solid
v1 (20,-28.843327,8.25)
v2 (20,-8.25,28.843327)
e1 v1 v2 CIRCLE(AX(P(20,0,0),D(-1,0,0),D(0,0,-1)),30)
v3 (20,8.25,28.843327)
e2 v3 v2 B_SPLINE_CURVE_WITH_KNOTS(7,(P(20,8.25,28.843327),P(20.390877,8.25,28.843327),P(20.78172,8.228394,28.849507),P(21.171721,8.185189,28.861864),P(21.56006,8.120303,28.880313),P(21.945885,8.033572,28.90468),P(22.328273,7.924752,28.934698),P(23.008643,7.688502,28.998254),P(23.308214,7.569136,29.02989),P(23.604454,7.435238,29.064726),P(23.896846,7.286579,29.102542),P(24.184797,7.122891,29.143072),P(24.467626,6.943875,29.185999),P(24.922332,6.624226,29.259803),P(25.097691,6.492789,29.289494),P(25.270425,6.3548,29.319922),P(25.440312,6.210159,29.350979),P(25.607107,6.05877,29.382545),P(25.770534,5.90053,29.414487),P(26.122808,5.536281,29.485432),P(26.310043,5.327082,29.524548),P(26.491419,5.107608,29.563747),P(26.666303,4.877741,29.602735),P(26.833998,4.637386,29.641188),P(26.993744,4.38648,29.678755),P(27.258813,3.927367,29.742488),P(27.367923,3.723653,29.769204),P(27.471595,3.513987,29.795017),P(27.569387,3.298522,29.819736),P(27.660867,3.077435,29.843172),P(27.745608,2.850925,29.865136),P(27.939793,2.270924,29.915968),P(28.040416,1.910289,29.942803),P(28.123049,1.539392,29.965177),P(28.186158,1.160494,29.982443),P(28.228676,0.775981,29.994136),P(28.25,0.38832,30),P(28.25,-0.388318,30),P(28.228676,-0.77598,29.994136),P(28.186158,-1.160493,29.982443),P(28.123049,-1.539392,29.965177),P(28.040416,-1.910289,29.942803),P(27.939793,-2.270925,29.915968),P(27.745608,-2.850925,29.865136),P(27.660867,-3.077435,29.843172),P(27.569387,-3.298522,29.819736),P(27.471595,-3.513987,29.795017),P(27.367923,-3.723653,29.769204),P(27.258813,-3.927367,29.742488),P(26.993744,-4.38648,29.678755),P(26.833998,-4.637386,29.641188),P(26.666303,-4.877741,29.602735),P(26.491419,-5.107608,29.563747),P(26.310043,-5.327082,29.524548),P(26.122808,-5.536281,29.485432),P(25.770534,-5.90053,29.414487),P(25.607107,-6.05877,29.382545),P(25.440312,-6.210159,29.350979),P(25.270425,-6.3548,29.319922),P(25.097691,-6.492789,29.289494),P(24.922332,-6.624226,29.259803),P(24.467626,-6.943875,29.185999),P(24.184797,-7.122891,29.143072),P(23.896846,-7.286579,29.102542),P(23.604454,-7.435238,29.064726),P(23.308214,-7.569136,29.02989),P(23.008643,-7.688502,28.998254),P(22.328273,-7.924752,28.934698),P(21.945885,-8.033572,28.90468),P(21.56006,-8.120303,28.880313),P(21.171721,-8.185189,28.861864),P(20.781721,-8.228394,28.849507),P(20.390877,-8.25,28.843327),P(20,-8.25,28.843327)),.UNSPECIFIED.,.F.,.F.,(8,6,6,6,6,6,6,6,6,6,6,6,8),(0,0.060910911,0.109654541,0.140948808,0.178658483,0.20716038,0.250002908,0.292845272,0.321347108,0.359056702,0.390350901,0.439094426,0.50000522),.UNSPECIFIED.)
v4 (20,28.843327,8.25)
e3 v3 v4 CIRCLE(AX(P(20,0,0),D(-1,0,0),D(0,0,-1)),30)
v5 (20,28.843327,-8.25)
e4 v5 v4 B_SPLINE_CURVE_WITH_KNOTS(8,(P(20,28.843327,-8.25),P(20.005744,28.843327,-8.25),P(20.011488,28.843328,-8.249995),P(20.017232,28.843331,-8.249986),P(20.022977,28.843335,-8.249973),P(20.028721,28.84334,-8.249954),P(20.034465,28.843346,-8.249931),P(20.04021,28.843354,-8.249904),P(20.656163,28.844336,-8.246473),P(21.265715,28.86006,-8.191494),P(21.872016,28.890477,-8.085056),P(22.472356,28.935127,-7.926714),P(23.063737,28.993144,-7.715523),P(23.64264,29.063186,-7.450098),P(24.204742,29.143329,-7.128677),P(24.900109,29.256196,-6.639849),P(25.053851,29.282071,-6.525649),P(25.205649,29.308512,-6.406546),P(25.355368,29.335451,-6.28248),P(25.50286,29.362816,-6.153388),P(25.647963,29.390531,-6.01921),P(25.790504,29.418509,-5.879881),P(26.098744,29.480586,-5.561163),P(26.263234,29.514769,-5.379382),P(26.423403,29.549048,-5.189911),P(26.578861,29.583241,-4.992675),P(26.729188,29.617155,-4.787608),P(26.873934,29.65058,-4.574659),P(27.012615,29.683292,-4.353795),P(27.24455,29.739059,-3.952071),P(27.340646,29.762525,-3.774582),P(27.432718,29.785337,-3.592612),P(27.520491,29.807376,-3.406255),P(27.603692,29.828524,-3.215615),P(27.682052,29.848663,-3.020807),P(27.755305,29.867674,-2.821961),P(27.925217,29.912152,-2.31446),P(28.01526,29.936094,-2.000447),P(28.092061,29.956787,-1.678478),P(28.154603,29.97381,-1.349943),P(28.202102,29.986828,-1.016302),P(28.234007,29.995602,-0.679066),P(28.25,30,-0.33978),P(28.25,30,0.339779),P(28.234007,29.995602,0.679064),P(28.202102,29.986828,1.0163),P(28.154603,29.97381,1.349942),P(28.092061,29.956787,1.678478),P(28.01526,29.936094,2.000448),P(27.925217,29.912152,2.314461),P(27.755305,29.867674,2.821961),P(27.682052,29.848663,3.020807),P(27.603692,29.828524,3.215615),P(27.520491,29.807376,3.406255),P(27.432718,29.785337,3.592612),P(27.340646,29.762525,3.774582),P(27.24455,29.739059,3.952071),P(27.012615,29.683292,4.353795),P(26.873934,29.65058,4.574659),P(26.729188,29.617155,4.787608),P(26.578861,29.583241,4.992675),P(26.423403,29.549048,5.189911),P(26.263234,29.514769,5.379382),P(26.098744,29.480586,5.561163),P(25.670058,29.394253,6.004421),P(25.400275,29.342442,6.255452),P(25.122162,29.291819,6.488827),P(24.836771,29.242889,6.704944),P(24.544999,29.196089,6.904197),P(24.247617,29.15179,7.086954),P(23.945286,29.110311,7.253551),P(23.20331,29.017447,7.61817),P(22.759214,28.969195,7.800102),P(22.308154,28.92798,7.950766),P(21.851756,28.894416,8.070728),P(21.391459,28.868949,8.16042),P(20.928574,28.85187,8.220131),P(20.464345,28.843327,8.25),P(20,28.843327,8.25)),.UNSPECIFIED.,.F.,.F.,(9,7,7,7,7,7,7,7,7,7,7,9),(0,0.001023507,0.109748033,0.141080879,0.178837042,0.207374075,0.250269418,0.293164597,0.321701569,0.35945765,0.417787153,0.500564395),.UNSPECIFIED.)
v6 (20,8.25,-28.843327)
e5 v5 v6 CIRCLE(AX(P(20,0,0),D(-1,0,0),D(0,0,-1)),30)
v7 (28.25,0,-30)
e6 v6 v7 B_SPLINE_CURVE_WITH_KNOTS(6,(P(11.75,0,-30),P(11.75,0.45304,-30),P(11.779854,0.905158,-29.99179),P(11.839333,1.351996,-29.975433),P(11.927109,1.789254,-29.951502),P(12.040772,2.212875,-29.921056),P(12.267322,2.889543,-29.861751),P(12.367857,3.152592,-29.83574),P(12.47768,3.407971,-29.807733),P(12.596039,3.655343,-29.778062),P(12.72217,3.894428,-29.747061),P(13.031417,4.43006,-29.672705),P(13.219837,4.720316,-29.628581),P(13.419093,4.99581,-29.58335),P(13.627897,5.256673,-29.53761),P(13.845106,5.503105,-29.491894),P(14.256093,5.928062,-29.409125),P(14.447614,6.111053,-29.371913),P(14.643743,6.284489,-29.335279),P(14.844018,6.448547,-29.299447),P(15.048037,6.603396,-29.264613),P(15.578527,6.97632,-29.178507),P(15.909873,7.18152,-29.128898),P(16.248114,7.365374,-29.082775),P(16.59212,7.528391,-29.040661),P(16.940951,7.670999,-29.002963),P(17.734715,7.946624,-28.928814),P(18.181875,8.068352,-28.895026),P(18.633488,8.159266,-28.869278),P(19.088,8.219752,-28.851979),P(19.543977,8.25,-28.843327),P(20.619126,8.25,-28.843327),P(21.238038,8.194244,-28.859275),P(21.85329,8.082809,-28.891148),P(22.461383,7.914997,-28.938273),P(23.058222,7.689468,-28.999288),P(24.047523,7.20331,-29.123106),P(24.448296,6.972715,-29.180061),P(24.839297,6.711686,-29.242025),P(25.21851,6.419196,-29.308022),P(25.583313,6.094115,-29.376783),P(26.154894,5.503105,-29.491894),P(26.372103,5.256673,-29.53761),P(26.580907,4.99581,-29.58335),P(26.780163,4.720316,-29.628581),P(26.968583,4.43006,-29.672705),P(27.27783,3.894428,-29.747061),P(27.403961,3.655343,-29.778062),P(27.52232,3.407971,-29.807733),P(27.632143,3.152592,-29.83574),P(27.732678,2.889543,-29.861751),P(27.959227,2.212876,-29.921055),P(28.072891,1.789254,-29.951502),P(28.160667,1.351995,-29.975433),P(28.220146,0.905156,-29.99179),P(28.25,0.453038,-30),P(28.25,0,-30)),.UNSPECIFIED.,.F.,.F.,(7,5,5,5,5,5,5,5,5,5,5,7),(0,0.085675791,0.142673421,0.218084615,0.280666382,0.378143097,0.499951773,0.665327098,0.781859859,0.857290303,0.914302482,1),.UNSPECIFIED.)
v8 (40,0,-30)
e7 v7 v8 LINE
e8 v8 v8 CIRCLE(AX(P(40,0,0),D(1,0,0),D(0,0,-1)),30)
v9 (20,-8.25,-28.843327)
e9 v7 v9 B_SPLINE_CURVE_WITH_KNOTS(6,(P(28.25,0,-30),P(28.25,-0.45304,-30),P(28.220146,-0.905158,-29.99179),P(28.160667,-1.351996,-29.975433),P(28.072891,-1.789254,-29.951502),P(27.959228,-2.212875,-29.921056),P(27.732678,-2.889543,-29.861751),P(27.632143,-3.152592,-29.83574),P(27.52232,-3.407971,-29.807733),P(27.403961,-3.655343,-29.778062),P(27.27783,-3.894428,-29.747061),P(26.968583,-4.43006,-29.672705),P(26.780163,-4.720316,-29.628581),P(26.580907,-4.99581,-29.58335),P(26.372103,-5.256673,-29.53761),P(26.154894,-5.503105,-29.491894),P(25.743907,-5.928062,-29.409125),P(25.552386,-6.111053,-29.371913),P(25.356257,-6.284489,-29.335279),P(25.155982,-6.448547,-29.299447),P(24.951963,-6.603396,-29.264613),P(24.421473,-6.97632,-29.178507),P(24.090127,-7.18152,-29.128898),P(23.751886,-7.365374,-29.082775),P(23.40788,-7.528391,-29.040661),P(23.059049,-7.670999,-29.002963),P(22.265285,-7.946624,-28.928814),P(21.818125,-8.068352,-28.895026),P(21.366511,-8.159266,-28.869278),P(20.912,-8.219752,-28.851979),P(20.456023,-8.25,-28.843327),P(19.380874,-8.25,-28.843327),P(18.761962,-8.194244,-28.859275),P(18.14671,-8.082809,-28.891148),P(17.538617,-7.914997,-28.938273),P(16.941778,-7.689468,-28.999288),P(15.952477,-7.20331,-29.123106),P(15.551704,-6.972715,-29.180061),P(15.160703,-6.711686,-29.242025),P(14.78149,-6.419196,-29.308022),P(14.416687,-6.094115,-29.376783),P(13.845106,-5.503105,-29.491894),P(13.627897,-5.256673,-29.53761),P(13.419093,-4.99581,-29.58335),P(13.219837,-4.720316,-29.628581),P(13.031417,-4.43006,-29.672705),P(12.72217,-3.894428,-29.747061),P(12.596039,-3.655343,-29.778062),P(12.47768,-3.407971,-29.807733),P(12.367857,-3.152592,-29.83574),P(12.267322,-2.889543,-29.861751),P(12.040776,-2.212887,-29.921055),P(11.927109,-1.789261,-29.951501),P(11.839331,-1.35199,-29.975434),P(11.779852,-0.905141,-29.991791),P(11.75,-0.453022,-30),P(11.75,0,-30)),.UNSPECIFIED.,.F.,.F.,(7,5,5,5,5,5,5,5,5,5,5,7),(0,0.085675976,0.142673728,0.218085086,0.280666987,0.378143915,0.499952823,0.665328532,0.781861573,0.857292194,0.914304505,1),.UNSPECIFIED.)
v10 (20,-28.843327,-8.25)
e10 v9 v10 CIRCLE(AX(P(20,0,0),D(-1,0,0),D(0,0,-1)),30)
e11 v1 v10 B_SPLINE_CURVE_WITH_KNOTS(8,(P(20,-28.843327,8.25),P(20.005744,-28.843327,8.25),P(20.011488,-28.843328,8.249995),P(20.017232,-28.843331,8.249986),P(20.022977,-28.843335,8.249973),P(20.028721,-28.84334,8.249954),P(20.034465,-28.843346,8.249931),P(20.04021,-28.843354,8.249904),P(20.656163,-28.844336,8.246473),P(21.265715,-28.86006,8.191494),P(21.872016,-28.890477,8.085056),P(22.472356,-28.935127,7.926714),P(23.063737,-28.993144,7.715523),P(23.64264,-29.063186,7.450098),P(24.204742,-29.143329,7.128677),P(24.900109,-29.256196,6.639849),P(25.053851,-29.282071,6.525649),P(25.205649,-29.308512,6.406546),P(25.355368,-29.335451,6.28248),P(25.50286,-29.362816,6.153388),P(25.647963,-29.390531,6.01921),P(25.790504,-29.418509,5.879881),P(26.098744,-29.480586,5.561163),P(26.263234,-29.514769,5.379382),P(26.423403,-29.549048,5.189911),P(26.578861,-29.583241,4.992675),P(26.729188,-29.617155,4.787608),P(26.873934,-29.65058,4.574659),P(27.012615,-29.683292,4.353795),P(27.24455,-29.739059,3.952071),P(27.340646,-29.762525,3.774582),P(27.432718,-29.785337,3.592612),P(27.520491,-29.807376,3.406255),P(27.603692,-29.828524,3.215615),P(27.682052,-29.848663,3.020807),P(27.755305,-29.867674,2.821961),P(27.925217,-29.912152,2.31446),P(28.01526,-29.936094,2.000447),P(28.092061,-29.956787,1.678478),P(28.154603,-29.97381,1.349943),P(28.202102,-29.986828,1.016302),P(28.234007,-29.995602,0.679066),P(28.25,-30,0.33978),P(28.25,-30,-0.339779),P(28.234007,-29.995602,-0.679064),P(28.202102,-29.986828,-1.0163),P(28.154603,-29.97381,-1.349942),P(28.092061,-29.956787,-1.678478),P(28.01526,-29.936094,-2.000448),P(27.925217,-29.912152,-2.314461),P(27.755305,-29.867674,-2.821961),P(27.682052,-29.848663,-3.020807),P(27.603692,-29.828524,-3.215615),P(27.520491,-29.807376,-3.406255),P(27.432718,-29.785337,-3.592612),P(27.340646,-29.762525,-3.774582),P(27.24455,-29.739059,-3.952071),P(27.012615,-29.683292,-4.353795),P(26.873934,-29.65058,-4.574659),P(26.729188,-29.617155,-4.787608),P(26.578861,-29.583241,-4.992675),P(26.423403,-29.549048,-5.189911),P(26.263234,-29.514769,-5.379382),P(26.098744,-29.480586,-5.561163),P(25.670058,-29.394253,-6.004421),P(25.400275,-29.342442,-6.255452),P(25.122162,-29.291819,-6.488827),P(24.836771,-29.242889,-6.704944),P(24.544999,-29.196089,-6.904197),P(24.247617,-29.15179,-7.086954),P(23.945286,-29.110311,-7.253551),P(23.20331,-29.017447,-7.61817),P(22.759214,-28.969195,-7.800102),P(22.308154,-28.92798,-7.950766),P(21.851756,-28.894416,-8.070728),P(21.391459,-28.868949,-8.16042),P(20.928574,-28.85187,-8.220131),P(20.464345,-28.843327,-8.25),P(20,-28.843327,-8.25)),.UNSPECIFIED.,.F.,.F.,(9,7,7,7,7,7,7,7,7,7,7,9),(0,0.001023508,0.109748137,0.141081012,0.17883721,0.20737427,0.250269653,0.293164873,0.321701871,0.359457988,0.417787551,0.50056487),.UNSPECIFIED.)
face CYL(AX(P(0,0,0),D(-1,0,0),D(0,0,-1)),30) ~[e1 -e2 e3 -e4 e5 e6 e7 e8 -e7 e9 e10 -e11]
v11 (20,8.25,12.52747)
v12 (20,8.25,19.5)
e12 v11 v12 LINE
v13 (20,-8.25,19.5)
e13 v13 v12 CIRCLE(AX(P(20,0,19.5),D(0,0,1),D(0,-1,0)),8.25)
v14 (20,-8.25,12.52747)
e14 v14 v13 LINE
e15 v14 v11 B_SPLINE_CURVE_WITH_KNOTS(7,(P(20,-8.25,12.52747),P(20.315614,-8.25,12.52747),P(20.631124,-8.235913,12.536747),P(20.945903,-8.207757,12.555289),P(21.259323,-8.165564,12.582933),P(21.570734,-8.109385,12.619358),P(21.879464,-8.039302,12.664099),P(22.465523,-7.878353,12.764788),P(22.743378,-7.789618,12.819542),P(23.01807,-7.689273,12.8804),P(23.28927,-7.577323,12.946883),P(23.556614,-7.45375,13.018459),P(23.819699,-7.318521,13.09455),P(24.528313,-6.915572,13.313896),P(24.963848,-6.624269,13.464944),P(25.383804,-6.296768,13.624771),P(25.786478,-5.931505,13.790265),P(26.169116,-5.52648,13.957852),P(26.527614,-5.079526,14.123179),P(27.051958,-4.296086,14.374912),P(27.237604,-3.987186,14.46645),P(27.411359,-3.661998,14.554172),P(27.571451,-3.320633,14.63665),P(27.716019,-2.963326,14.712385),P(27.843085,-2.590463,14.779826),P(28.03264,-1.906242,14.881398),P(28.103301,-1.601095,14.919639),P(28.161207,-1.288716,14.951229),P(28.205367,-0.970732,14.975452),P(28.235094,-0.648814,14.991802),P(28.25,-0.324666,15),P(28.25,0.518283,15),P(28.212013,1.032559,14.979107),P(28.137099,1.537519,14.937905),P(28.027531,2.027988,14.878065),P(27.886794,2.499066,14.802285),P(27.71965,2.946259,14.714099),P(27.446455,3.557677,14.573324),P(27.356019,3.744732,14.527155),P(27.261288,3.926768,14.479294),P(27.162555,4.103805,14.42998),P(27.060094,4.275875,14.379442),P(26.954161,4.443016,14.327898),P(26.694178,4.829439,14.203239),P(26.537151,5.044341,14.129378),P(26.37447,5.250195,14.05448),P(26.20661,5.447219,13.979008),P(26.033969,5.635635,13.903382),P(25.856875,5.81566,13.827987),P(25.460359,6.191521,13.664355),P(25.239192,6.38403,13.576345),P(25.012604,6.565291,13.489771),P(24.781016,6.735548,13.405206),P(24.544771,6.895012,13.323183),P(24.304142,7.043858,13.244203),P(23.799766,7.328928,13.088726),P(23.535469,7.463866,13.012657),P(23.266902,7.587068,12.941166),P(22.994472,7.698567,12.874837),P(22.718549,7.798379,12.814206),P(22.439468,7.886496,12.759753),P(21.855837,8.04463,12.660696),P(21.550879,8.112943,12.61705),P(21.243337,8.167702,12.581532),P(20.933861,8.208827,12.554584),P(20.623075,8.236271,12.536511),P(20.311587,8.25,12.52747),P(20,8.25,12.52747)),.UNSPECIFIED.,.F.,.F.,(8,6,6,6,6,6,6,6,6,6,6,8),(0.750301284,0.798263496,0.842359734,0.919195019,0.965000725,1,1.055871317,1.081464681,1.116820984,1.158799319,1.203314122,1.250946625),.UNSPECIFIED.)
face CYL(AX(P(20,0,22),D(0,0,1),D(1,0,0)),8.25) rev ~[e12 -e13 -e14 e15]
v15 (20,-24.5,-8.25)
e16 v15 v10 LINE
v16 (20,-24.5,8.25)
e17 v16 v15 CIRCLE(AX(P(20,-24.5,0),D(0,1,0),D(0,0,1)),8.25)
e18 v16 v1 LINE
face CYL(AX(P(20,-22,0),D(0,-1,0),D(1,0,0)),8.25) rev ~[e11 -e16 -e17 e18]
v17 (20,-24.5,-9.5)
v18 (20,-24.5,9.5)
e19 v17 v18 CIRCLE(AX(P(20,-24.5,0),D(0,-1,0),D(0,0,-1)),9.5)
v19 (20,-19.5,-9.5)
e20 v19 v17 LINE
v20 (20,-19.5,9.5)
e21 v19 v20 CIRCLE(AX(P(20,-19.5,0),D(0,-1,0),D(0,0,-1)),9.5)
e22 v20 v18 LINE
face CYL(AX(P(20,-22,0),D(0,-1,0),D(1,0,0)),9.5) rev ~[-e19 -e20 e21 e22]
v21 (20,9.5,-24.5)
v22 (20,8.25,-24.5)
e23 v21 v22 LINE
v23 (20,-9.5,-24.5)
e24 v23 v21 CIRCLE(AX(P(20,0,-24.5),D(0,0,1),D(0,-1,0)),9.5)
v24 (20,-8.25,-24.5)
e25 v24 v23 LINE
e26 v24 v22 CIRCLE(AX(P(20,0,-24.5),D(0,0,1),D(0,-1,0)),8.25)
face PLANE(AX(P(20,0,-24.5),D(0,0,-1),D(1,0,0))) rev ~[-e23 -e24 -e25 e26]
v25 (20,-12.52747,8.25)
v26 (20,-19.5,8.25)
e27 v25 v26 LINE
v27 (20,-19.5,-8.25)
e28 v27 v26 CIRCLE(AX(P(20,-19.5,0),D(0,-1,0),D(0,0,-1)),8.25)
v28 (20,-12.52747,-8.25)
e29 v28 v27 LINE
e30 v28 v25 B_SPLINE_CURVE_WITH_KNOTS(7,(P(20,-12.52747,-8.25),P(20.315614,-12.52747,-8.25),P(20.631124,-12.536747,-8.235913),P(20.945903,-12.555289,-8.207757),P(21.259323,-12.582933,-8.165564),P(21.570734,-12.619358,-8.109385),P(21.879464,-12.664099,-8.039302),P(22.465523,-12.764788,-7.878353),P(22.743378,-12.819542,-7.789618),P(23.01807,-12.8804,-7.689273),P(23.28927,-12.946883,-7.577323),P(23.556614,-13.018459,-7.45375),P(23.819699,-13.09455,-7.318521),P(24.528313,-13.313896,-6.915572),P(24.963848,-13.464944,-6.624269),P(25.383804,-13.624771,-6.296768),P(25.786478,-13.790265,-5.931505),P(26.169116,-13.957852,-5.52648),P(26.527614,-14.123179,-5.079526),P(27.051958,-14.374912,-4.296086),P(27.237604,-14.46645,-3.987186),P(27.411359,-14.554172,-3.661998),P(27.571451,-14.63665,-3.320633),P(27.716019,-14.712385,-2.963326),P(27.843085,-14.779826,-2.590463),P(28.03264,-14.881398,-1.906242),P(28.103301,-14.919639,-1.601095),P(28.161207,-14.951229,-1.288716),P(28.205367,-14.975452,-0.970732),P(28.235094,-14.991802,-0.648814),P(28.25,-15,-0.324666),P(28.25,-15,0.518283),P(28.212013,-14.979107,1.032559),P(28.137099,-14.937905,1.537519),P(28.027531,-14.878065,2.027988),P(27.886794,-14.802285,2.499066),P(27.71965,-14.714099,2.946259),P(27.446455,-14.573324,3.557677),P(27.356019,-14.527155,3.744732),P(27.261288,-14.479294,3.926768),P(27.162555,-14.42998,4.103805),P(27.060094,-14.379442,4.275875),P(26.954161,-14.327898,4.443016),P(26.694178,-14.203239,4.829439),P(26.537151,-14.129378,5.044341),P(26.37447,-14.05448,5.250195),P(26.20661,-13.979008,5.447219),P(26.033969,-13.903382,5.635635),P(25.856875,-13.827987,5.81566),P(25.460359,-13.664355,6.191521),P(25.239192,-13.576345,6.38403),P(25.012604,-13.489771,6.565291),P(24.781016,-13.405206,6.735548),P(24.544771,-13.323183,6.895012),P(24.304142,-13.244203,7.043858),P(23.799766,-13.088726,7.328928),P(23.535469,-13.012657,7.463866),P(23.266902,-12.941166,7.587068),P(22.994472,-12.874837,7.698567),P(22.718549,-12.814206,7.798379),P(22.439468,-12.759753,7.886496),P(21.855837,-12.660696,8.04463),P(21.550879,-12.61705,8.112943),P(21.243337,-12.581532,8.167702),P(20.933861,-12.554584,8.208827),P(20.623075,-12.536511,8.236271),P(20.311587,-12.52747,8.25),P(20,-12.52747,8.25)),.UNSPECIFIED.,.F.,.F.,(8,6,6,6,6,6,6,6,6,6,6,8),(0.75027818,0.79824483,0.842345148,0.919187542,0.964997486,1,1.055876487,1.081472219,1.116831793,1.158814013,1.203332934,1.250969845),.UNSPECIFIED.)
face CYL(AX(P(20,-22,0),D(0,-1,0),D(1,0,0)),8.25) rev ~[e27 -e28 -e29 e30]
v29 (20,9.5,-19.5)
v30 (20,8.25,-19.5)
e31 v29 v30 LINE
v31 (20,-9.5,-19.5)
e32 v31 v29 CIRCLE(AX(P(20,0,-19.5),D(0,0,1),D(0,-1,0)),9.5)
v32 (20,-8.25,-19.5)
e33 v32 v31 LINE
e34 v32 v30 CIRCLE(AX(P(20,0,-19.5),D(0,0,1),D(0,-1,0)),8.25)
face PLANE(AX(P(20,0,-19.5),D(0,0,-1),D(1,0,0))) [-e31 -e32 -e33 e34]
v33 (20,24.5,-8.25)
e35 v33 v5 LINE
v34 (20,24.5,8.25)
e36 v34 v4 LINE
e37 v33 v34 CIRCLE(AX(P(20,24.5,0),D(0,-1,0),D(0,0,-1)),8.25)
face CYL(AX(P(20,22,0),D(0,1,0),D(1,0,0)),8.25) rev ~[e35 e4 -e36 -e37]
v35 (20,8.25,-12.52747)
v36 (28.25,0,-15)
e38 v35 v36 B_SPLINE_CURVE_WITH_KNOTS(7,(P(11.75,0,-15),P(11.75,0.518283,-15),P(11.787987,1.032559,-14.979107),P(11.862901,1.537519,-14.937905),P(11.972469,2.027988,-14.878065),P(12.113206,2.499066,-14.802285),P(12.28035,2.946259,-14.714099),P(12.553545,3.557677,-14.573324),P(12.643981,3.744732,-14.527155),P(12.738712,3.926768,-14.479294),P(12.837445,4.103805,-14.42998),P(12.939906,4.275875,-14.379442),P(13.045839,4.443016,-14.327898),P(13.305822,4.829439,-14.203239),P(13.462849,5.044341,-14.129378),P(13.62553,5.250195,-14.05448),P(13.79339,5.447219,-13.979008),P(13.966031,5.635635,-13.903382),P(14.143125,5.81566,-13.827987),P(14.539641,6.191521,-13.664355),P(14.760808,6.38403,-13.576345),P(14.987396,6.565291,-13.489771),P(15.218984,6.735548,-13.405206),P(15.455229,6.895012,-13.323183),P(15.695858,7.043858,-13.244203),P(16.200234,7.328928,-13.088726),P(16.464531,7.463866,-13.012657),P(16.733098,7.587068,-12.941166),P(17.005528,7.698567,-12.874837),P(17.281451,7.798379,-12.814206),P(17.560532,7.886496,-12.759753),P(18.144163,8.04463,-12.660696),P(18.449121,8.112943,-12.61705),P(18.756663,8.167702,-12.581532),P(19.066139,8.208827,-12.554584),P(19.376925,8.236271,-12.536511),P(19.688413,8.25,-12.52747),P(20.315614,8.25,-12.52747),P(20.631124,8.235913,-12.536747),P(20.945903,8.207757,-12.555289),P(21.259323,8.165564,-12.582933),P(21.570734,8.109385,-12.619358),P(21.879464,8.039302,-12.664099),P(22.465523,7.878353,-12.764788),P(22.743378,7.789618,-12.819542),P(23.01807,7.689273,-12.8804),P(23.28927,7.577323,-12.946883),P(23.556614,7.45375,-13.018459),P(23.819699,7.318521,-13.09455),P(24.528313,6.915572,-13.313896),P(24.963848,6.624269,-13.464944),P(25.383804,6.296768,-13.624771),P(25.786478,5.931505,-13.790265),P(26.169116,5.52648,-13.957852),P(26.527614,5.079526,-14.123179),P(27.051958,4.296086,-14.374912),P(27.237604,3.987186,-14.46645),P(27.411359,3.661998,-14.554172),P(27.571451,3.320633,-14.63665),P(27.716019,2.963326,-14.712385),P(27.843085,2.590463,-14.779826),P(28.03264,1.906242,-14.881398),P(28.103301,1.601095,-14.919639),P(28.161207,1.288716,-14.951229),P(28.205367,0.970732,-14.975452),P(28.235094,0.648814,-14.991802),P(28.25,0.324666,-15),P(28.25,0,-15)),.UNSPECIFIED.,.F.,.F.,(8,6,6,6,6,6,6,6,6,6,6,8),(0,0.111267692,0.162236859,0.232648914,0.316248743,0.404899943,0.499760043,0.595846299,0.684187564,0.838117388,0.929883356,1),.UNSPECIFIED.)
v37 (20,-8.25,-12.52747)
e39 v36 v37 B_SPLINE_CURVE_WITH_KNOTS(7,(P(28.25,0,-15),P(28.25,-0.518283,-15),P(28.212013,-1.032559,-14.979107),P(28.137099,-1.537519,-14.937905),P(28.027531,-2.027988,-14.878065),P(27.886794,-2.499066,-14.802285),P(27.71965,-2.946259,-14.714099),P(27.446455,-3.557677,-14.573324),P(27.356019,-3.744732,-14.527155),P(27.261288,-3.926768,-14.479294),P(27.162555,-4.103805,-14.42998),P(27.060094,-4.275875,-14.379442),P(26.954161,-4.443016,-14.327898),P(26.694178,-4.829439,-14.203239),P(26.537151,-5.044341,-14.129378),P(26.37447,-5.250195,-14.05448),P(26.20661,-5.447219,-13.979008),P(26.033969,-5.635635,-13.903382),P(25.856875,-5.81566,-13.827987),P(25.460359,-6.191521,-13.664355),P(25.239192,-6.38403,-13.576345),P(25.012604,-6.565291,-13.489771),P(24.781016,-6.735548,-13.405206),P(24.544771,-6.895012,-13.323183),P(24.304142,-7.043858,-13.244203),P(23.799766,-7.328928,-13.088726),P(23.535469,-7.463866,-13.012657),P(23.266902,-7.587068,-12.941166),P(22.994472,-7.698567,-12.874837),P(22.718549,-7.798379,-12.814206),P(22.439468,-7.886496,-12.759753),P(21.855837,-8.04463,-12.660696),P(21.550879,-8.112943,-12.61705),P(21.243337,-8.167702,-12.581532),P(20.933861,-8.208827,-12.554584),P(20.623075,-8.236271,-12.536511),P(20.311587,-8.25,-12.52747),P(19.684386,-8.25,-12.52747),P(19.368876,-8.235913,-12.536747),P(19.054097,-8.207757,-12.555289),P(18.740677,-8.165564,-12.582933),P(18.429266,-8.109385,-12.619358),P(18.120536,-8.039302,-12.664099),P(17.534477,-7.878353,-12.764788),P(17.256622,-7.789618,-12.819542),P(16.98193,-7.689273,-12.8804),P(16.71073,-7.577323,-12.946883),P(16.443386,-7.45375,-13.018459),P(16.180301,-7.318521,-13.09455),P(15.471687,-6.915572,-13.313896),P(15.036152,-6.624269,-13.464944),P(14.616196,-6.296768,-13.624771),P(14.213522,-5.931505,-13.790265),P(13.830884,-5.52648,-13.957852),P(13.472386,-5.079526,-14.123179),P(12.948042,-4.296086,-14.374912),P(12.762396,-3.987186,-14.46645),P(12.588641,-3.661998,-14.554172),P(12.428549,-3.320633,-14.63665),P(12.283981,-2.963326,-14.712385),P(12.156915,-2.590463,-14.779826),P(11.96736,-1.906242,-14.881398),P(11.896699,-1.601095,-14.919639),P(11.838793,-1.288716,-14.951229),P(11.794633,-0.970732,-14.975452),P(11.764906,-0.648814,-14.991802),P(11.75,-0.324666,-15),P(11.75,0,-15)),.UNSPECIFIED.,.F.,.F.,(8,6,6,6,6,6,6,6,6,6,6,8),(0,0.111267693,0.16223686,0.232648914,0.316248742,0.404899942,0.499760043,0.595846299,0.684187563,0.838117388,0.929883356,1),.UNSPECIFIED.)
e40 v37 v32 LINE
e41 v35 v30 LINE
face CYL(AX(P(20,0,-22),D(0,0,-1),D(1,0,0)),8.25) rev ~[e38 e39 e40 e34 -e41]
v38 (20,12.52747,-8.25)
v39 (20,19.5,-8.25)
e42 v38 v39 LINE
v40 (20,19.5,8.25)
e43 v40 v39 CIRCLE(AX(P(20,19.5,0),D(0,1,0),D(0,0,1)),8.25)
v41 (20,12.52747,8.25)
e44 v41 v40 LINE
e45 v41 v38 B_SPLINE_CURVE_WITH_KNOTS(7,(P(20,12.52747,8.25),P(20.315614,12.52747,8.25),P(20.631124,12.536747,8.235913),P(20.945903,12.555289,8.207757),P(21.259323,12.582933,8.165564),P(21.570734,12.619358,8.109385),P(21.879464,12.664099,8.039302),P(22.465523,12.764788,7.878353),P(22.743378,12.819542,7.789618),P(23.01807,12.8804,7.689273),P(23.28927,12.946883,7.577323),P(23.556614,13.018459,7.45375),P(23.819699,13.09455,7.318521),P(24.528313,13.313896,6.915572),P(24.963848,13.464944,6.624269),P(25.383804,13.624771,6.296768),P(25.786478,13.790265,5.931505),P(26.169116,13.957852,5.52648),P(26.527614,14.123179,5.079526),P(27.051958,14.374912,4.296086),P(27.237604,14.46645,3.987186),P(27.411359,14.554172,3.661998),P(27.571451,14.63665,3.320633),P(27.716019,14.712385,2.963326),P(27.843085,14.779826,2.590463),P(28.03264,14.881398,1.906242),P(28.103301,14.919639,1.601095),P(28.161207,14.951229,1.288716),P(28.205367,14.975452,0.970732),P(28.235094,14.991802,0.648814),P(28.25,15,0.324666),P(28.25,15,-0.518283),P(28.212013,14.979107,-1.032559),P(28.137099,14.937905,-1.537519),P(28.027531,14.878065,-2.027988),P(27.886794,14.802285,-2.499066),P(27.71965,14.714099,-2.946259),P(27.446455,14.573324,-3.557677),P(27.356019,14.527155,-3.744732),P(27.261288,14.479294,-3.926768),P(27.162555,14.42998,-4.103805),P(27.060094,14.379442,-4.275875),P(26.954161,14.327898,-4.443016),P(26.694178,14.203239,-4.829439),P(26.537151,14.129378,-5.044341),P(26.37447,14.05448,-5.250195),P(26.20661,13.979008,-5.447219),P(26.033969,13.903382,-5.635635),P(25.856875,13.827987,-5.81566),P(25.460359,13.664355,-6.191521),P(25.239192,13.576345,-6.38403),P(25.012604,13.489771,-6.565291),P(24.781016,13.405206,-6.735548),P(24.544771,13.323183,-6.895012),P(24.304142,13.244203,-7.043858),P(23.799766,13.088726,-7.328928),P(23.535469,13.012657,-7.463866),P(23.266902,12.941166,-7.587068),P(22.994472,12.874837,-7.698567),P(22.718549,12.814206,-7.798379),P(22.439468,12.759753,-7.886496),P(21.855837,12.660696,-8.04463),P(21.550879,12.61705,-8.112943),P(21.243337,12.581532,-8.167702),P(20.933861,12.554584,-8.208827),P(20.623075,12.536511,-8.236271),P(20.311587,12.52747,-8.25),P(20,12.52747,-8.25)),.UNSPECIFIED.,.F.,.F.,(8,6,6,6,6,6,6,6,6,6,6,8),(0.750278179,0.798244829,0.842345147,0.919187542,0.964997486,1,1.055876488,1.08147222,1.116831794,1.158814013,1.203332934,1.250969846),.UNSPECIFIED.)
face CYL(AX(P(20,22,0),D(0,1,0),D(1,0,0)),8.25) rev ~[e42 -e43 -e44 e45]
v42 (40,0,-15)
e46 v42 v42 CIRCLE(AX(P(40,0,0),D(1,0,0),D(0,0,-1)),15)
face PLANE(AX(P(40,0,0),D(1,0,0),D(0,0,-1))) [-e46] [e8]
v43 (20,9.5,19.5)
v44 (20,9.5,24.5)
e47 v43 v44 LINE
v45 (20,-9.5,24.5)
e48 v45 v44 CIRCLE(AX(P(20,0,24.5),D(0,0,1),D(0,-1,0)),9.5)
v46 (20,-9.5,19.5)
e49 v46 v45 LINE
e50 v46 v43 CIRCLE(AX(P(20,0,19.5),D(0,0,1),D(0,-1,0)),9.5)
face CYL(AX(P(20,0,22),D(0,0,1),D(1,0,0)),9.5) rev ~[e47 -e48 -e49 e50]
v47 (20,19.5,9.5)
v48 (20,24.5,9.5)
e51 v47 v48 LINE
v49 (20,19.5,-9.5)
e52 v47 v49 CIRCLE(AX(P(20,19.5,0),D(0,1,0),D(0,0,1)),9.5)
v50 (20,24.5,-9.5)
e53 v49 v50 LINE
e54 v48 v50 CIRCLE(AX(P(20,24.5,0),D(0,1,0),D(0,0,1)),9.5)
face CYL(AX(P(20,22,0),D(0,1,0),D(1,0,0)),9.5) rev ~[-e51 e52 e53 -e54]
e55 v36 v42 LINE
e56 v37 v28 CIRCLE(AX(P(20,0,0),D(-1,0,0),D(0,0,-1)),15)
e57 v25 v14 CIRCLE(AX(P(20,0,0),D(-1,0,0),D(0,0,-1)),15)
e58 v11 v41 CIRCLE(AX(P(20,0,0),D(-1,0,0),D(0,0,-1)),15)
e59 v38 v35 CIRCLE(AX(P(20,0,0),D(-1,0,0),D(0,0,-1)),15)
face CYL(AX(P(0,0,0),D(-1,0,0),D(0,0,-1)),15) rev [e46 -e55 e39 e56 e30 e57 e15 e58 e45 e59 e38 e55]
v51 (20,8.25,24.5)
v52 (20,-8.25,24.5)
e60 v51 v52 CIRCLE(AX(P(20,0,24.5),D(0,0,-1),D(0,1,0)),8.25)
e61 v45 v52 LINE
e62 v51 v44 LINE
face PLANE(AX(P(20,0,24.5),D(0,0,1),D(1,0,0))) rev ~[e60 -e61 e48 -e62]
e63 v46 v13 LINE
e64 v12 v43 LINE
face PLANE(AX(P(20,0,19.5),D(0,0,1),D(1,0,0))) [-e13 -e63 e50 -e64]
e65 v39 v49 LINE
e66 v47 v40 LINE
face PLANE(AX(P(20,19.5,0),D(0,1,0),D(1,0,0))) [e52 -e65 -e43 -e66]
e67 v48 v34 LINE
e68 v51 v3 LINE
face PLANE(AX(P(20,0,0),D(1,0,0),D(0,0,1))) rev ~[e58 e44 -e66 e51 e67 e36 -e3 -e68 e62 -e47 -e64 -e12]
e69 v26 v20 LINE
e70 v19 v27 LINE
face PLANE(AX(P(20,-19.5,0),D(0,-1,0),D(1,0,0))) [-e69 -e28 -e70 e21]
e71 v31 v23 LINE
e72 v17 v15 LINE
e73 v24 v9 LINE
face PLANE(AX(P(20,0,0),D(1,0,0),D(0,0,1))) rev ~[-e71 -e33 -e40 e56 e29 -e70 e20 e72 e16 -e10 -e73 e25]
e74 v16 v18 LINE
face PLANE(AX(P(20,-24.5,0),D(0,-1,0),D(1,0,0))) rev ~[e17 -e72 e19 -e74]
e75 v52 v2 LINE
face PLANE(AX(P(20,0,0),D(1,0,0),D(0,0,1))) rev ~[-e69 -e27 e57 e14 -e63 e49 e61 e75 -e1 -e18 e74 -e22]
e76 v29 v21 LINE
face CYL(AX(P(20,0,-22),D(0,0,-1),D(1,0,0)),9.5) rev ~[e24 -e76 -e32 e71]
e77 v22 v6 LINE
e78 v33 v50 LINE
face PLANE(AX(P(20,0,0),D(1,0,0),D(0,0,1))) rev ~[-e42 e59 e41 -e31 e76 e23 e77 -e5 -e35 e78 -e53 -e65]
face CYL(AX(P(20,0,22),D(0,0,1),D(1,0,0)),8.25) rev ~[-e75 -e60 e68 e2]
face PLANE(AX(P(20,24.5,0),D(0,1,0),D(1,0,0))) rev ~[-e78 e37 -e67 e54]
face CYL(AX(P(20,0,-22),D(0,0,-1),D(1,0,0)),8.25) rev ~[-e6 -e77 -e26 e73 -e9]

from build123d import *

# Parameters (mm, degrees)
SKETCH1_R           = 30
SKETCH1_R_2         = 15
BOSS_EXTRUDE1_DEPTH = 40
SKETCH2_R           = 9.5
CUT_EXTRUDE1_DEPTH  = 2.5
SKETCH3_R           = 8.25
CUT_EXTRUDE2_DEPTH  = 15
CIRPATTERN1_COUNT   = 4


with BuildPart() as part:
    # Sketch1 → Boss-Extrude1 (new body)
    with BuildSketch(Plane(origin=(0, 0, 0), x_dir=(0, 0, -1), z_dir=(1, 0, 0))):
        Circle(SKETCH1_R)
        Circle(SKETCH1_R_2, mode=Mode.SUBTRACT)
    extrude(amount=BOSS_EXTRUDE1_DEPTH)

    # Sketch2 → Cut-Extrude1 (cut, symmetric)
    with BuildSketch(Plane.XY.offset(22)):
        with Locations((20, 0)):
            Circle(SKETCH2_R)
    cut_extrude1 = extrude(amount=CUT_EXTRUDE1_DEPTH, both=True, mode=Mode.SUBTRACT)

    # Sketch3 → Cut-Extrude2 (cut, symmetric)
    with BuildSketch(Plane.XY.offset(22)):
        with Locations((20, 0)):
            Circle(SKETCH3_R)
    cut_extrude2 = extrude(amount=CUT_EXTRUDE2_DEPTH, both=True, mode=Mode.SUBTRACT)

    # CirPattern1: Cut-Extrude1, Cut-Extrude2 ×4 about axis
    cirpattern1_axis = Axis((0, 0, 0), (1, 0, 0))
    for i in range(1, CIRPATTERN1_COUNT):
        add(cut_extrude1.rotate(cirpattern1_axis, i * 360 / CIRPATTERN1_COUNT), mode=Mode.SUBTRACT)
        add(cut_extrude2.rotate(cirpattern1_axis, i * 360 / CIRPATTERN1_COUNT), mode=Mode.SUBTRACT)


with BuildPart() as body_2:
    # Split2: the piece on the far side of the plane
    add(part.part)
    split(bisect_by=Plane(origin=(20, 0, 0), x_dir=(0, 0, 1), z_dir=(1, 0, 0)), keep=Keep.BOTTOM)


with BuildPart() as part_1:
    add(part.part)

    # Split2
    split(bisect_by=Plane(origin=(20, 0, 0), x_dir=(0, 0, 1), z_dir=(1, 0, 0)), keep=Keep.TOP)


solid = part_1.part
